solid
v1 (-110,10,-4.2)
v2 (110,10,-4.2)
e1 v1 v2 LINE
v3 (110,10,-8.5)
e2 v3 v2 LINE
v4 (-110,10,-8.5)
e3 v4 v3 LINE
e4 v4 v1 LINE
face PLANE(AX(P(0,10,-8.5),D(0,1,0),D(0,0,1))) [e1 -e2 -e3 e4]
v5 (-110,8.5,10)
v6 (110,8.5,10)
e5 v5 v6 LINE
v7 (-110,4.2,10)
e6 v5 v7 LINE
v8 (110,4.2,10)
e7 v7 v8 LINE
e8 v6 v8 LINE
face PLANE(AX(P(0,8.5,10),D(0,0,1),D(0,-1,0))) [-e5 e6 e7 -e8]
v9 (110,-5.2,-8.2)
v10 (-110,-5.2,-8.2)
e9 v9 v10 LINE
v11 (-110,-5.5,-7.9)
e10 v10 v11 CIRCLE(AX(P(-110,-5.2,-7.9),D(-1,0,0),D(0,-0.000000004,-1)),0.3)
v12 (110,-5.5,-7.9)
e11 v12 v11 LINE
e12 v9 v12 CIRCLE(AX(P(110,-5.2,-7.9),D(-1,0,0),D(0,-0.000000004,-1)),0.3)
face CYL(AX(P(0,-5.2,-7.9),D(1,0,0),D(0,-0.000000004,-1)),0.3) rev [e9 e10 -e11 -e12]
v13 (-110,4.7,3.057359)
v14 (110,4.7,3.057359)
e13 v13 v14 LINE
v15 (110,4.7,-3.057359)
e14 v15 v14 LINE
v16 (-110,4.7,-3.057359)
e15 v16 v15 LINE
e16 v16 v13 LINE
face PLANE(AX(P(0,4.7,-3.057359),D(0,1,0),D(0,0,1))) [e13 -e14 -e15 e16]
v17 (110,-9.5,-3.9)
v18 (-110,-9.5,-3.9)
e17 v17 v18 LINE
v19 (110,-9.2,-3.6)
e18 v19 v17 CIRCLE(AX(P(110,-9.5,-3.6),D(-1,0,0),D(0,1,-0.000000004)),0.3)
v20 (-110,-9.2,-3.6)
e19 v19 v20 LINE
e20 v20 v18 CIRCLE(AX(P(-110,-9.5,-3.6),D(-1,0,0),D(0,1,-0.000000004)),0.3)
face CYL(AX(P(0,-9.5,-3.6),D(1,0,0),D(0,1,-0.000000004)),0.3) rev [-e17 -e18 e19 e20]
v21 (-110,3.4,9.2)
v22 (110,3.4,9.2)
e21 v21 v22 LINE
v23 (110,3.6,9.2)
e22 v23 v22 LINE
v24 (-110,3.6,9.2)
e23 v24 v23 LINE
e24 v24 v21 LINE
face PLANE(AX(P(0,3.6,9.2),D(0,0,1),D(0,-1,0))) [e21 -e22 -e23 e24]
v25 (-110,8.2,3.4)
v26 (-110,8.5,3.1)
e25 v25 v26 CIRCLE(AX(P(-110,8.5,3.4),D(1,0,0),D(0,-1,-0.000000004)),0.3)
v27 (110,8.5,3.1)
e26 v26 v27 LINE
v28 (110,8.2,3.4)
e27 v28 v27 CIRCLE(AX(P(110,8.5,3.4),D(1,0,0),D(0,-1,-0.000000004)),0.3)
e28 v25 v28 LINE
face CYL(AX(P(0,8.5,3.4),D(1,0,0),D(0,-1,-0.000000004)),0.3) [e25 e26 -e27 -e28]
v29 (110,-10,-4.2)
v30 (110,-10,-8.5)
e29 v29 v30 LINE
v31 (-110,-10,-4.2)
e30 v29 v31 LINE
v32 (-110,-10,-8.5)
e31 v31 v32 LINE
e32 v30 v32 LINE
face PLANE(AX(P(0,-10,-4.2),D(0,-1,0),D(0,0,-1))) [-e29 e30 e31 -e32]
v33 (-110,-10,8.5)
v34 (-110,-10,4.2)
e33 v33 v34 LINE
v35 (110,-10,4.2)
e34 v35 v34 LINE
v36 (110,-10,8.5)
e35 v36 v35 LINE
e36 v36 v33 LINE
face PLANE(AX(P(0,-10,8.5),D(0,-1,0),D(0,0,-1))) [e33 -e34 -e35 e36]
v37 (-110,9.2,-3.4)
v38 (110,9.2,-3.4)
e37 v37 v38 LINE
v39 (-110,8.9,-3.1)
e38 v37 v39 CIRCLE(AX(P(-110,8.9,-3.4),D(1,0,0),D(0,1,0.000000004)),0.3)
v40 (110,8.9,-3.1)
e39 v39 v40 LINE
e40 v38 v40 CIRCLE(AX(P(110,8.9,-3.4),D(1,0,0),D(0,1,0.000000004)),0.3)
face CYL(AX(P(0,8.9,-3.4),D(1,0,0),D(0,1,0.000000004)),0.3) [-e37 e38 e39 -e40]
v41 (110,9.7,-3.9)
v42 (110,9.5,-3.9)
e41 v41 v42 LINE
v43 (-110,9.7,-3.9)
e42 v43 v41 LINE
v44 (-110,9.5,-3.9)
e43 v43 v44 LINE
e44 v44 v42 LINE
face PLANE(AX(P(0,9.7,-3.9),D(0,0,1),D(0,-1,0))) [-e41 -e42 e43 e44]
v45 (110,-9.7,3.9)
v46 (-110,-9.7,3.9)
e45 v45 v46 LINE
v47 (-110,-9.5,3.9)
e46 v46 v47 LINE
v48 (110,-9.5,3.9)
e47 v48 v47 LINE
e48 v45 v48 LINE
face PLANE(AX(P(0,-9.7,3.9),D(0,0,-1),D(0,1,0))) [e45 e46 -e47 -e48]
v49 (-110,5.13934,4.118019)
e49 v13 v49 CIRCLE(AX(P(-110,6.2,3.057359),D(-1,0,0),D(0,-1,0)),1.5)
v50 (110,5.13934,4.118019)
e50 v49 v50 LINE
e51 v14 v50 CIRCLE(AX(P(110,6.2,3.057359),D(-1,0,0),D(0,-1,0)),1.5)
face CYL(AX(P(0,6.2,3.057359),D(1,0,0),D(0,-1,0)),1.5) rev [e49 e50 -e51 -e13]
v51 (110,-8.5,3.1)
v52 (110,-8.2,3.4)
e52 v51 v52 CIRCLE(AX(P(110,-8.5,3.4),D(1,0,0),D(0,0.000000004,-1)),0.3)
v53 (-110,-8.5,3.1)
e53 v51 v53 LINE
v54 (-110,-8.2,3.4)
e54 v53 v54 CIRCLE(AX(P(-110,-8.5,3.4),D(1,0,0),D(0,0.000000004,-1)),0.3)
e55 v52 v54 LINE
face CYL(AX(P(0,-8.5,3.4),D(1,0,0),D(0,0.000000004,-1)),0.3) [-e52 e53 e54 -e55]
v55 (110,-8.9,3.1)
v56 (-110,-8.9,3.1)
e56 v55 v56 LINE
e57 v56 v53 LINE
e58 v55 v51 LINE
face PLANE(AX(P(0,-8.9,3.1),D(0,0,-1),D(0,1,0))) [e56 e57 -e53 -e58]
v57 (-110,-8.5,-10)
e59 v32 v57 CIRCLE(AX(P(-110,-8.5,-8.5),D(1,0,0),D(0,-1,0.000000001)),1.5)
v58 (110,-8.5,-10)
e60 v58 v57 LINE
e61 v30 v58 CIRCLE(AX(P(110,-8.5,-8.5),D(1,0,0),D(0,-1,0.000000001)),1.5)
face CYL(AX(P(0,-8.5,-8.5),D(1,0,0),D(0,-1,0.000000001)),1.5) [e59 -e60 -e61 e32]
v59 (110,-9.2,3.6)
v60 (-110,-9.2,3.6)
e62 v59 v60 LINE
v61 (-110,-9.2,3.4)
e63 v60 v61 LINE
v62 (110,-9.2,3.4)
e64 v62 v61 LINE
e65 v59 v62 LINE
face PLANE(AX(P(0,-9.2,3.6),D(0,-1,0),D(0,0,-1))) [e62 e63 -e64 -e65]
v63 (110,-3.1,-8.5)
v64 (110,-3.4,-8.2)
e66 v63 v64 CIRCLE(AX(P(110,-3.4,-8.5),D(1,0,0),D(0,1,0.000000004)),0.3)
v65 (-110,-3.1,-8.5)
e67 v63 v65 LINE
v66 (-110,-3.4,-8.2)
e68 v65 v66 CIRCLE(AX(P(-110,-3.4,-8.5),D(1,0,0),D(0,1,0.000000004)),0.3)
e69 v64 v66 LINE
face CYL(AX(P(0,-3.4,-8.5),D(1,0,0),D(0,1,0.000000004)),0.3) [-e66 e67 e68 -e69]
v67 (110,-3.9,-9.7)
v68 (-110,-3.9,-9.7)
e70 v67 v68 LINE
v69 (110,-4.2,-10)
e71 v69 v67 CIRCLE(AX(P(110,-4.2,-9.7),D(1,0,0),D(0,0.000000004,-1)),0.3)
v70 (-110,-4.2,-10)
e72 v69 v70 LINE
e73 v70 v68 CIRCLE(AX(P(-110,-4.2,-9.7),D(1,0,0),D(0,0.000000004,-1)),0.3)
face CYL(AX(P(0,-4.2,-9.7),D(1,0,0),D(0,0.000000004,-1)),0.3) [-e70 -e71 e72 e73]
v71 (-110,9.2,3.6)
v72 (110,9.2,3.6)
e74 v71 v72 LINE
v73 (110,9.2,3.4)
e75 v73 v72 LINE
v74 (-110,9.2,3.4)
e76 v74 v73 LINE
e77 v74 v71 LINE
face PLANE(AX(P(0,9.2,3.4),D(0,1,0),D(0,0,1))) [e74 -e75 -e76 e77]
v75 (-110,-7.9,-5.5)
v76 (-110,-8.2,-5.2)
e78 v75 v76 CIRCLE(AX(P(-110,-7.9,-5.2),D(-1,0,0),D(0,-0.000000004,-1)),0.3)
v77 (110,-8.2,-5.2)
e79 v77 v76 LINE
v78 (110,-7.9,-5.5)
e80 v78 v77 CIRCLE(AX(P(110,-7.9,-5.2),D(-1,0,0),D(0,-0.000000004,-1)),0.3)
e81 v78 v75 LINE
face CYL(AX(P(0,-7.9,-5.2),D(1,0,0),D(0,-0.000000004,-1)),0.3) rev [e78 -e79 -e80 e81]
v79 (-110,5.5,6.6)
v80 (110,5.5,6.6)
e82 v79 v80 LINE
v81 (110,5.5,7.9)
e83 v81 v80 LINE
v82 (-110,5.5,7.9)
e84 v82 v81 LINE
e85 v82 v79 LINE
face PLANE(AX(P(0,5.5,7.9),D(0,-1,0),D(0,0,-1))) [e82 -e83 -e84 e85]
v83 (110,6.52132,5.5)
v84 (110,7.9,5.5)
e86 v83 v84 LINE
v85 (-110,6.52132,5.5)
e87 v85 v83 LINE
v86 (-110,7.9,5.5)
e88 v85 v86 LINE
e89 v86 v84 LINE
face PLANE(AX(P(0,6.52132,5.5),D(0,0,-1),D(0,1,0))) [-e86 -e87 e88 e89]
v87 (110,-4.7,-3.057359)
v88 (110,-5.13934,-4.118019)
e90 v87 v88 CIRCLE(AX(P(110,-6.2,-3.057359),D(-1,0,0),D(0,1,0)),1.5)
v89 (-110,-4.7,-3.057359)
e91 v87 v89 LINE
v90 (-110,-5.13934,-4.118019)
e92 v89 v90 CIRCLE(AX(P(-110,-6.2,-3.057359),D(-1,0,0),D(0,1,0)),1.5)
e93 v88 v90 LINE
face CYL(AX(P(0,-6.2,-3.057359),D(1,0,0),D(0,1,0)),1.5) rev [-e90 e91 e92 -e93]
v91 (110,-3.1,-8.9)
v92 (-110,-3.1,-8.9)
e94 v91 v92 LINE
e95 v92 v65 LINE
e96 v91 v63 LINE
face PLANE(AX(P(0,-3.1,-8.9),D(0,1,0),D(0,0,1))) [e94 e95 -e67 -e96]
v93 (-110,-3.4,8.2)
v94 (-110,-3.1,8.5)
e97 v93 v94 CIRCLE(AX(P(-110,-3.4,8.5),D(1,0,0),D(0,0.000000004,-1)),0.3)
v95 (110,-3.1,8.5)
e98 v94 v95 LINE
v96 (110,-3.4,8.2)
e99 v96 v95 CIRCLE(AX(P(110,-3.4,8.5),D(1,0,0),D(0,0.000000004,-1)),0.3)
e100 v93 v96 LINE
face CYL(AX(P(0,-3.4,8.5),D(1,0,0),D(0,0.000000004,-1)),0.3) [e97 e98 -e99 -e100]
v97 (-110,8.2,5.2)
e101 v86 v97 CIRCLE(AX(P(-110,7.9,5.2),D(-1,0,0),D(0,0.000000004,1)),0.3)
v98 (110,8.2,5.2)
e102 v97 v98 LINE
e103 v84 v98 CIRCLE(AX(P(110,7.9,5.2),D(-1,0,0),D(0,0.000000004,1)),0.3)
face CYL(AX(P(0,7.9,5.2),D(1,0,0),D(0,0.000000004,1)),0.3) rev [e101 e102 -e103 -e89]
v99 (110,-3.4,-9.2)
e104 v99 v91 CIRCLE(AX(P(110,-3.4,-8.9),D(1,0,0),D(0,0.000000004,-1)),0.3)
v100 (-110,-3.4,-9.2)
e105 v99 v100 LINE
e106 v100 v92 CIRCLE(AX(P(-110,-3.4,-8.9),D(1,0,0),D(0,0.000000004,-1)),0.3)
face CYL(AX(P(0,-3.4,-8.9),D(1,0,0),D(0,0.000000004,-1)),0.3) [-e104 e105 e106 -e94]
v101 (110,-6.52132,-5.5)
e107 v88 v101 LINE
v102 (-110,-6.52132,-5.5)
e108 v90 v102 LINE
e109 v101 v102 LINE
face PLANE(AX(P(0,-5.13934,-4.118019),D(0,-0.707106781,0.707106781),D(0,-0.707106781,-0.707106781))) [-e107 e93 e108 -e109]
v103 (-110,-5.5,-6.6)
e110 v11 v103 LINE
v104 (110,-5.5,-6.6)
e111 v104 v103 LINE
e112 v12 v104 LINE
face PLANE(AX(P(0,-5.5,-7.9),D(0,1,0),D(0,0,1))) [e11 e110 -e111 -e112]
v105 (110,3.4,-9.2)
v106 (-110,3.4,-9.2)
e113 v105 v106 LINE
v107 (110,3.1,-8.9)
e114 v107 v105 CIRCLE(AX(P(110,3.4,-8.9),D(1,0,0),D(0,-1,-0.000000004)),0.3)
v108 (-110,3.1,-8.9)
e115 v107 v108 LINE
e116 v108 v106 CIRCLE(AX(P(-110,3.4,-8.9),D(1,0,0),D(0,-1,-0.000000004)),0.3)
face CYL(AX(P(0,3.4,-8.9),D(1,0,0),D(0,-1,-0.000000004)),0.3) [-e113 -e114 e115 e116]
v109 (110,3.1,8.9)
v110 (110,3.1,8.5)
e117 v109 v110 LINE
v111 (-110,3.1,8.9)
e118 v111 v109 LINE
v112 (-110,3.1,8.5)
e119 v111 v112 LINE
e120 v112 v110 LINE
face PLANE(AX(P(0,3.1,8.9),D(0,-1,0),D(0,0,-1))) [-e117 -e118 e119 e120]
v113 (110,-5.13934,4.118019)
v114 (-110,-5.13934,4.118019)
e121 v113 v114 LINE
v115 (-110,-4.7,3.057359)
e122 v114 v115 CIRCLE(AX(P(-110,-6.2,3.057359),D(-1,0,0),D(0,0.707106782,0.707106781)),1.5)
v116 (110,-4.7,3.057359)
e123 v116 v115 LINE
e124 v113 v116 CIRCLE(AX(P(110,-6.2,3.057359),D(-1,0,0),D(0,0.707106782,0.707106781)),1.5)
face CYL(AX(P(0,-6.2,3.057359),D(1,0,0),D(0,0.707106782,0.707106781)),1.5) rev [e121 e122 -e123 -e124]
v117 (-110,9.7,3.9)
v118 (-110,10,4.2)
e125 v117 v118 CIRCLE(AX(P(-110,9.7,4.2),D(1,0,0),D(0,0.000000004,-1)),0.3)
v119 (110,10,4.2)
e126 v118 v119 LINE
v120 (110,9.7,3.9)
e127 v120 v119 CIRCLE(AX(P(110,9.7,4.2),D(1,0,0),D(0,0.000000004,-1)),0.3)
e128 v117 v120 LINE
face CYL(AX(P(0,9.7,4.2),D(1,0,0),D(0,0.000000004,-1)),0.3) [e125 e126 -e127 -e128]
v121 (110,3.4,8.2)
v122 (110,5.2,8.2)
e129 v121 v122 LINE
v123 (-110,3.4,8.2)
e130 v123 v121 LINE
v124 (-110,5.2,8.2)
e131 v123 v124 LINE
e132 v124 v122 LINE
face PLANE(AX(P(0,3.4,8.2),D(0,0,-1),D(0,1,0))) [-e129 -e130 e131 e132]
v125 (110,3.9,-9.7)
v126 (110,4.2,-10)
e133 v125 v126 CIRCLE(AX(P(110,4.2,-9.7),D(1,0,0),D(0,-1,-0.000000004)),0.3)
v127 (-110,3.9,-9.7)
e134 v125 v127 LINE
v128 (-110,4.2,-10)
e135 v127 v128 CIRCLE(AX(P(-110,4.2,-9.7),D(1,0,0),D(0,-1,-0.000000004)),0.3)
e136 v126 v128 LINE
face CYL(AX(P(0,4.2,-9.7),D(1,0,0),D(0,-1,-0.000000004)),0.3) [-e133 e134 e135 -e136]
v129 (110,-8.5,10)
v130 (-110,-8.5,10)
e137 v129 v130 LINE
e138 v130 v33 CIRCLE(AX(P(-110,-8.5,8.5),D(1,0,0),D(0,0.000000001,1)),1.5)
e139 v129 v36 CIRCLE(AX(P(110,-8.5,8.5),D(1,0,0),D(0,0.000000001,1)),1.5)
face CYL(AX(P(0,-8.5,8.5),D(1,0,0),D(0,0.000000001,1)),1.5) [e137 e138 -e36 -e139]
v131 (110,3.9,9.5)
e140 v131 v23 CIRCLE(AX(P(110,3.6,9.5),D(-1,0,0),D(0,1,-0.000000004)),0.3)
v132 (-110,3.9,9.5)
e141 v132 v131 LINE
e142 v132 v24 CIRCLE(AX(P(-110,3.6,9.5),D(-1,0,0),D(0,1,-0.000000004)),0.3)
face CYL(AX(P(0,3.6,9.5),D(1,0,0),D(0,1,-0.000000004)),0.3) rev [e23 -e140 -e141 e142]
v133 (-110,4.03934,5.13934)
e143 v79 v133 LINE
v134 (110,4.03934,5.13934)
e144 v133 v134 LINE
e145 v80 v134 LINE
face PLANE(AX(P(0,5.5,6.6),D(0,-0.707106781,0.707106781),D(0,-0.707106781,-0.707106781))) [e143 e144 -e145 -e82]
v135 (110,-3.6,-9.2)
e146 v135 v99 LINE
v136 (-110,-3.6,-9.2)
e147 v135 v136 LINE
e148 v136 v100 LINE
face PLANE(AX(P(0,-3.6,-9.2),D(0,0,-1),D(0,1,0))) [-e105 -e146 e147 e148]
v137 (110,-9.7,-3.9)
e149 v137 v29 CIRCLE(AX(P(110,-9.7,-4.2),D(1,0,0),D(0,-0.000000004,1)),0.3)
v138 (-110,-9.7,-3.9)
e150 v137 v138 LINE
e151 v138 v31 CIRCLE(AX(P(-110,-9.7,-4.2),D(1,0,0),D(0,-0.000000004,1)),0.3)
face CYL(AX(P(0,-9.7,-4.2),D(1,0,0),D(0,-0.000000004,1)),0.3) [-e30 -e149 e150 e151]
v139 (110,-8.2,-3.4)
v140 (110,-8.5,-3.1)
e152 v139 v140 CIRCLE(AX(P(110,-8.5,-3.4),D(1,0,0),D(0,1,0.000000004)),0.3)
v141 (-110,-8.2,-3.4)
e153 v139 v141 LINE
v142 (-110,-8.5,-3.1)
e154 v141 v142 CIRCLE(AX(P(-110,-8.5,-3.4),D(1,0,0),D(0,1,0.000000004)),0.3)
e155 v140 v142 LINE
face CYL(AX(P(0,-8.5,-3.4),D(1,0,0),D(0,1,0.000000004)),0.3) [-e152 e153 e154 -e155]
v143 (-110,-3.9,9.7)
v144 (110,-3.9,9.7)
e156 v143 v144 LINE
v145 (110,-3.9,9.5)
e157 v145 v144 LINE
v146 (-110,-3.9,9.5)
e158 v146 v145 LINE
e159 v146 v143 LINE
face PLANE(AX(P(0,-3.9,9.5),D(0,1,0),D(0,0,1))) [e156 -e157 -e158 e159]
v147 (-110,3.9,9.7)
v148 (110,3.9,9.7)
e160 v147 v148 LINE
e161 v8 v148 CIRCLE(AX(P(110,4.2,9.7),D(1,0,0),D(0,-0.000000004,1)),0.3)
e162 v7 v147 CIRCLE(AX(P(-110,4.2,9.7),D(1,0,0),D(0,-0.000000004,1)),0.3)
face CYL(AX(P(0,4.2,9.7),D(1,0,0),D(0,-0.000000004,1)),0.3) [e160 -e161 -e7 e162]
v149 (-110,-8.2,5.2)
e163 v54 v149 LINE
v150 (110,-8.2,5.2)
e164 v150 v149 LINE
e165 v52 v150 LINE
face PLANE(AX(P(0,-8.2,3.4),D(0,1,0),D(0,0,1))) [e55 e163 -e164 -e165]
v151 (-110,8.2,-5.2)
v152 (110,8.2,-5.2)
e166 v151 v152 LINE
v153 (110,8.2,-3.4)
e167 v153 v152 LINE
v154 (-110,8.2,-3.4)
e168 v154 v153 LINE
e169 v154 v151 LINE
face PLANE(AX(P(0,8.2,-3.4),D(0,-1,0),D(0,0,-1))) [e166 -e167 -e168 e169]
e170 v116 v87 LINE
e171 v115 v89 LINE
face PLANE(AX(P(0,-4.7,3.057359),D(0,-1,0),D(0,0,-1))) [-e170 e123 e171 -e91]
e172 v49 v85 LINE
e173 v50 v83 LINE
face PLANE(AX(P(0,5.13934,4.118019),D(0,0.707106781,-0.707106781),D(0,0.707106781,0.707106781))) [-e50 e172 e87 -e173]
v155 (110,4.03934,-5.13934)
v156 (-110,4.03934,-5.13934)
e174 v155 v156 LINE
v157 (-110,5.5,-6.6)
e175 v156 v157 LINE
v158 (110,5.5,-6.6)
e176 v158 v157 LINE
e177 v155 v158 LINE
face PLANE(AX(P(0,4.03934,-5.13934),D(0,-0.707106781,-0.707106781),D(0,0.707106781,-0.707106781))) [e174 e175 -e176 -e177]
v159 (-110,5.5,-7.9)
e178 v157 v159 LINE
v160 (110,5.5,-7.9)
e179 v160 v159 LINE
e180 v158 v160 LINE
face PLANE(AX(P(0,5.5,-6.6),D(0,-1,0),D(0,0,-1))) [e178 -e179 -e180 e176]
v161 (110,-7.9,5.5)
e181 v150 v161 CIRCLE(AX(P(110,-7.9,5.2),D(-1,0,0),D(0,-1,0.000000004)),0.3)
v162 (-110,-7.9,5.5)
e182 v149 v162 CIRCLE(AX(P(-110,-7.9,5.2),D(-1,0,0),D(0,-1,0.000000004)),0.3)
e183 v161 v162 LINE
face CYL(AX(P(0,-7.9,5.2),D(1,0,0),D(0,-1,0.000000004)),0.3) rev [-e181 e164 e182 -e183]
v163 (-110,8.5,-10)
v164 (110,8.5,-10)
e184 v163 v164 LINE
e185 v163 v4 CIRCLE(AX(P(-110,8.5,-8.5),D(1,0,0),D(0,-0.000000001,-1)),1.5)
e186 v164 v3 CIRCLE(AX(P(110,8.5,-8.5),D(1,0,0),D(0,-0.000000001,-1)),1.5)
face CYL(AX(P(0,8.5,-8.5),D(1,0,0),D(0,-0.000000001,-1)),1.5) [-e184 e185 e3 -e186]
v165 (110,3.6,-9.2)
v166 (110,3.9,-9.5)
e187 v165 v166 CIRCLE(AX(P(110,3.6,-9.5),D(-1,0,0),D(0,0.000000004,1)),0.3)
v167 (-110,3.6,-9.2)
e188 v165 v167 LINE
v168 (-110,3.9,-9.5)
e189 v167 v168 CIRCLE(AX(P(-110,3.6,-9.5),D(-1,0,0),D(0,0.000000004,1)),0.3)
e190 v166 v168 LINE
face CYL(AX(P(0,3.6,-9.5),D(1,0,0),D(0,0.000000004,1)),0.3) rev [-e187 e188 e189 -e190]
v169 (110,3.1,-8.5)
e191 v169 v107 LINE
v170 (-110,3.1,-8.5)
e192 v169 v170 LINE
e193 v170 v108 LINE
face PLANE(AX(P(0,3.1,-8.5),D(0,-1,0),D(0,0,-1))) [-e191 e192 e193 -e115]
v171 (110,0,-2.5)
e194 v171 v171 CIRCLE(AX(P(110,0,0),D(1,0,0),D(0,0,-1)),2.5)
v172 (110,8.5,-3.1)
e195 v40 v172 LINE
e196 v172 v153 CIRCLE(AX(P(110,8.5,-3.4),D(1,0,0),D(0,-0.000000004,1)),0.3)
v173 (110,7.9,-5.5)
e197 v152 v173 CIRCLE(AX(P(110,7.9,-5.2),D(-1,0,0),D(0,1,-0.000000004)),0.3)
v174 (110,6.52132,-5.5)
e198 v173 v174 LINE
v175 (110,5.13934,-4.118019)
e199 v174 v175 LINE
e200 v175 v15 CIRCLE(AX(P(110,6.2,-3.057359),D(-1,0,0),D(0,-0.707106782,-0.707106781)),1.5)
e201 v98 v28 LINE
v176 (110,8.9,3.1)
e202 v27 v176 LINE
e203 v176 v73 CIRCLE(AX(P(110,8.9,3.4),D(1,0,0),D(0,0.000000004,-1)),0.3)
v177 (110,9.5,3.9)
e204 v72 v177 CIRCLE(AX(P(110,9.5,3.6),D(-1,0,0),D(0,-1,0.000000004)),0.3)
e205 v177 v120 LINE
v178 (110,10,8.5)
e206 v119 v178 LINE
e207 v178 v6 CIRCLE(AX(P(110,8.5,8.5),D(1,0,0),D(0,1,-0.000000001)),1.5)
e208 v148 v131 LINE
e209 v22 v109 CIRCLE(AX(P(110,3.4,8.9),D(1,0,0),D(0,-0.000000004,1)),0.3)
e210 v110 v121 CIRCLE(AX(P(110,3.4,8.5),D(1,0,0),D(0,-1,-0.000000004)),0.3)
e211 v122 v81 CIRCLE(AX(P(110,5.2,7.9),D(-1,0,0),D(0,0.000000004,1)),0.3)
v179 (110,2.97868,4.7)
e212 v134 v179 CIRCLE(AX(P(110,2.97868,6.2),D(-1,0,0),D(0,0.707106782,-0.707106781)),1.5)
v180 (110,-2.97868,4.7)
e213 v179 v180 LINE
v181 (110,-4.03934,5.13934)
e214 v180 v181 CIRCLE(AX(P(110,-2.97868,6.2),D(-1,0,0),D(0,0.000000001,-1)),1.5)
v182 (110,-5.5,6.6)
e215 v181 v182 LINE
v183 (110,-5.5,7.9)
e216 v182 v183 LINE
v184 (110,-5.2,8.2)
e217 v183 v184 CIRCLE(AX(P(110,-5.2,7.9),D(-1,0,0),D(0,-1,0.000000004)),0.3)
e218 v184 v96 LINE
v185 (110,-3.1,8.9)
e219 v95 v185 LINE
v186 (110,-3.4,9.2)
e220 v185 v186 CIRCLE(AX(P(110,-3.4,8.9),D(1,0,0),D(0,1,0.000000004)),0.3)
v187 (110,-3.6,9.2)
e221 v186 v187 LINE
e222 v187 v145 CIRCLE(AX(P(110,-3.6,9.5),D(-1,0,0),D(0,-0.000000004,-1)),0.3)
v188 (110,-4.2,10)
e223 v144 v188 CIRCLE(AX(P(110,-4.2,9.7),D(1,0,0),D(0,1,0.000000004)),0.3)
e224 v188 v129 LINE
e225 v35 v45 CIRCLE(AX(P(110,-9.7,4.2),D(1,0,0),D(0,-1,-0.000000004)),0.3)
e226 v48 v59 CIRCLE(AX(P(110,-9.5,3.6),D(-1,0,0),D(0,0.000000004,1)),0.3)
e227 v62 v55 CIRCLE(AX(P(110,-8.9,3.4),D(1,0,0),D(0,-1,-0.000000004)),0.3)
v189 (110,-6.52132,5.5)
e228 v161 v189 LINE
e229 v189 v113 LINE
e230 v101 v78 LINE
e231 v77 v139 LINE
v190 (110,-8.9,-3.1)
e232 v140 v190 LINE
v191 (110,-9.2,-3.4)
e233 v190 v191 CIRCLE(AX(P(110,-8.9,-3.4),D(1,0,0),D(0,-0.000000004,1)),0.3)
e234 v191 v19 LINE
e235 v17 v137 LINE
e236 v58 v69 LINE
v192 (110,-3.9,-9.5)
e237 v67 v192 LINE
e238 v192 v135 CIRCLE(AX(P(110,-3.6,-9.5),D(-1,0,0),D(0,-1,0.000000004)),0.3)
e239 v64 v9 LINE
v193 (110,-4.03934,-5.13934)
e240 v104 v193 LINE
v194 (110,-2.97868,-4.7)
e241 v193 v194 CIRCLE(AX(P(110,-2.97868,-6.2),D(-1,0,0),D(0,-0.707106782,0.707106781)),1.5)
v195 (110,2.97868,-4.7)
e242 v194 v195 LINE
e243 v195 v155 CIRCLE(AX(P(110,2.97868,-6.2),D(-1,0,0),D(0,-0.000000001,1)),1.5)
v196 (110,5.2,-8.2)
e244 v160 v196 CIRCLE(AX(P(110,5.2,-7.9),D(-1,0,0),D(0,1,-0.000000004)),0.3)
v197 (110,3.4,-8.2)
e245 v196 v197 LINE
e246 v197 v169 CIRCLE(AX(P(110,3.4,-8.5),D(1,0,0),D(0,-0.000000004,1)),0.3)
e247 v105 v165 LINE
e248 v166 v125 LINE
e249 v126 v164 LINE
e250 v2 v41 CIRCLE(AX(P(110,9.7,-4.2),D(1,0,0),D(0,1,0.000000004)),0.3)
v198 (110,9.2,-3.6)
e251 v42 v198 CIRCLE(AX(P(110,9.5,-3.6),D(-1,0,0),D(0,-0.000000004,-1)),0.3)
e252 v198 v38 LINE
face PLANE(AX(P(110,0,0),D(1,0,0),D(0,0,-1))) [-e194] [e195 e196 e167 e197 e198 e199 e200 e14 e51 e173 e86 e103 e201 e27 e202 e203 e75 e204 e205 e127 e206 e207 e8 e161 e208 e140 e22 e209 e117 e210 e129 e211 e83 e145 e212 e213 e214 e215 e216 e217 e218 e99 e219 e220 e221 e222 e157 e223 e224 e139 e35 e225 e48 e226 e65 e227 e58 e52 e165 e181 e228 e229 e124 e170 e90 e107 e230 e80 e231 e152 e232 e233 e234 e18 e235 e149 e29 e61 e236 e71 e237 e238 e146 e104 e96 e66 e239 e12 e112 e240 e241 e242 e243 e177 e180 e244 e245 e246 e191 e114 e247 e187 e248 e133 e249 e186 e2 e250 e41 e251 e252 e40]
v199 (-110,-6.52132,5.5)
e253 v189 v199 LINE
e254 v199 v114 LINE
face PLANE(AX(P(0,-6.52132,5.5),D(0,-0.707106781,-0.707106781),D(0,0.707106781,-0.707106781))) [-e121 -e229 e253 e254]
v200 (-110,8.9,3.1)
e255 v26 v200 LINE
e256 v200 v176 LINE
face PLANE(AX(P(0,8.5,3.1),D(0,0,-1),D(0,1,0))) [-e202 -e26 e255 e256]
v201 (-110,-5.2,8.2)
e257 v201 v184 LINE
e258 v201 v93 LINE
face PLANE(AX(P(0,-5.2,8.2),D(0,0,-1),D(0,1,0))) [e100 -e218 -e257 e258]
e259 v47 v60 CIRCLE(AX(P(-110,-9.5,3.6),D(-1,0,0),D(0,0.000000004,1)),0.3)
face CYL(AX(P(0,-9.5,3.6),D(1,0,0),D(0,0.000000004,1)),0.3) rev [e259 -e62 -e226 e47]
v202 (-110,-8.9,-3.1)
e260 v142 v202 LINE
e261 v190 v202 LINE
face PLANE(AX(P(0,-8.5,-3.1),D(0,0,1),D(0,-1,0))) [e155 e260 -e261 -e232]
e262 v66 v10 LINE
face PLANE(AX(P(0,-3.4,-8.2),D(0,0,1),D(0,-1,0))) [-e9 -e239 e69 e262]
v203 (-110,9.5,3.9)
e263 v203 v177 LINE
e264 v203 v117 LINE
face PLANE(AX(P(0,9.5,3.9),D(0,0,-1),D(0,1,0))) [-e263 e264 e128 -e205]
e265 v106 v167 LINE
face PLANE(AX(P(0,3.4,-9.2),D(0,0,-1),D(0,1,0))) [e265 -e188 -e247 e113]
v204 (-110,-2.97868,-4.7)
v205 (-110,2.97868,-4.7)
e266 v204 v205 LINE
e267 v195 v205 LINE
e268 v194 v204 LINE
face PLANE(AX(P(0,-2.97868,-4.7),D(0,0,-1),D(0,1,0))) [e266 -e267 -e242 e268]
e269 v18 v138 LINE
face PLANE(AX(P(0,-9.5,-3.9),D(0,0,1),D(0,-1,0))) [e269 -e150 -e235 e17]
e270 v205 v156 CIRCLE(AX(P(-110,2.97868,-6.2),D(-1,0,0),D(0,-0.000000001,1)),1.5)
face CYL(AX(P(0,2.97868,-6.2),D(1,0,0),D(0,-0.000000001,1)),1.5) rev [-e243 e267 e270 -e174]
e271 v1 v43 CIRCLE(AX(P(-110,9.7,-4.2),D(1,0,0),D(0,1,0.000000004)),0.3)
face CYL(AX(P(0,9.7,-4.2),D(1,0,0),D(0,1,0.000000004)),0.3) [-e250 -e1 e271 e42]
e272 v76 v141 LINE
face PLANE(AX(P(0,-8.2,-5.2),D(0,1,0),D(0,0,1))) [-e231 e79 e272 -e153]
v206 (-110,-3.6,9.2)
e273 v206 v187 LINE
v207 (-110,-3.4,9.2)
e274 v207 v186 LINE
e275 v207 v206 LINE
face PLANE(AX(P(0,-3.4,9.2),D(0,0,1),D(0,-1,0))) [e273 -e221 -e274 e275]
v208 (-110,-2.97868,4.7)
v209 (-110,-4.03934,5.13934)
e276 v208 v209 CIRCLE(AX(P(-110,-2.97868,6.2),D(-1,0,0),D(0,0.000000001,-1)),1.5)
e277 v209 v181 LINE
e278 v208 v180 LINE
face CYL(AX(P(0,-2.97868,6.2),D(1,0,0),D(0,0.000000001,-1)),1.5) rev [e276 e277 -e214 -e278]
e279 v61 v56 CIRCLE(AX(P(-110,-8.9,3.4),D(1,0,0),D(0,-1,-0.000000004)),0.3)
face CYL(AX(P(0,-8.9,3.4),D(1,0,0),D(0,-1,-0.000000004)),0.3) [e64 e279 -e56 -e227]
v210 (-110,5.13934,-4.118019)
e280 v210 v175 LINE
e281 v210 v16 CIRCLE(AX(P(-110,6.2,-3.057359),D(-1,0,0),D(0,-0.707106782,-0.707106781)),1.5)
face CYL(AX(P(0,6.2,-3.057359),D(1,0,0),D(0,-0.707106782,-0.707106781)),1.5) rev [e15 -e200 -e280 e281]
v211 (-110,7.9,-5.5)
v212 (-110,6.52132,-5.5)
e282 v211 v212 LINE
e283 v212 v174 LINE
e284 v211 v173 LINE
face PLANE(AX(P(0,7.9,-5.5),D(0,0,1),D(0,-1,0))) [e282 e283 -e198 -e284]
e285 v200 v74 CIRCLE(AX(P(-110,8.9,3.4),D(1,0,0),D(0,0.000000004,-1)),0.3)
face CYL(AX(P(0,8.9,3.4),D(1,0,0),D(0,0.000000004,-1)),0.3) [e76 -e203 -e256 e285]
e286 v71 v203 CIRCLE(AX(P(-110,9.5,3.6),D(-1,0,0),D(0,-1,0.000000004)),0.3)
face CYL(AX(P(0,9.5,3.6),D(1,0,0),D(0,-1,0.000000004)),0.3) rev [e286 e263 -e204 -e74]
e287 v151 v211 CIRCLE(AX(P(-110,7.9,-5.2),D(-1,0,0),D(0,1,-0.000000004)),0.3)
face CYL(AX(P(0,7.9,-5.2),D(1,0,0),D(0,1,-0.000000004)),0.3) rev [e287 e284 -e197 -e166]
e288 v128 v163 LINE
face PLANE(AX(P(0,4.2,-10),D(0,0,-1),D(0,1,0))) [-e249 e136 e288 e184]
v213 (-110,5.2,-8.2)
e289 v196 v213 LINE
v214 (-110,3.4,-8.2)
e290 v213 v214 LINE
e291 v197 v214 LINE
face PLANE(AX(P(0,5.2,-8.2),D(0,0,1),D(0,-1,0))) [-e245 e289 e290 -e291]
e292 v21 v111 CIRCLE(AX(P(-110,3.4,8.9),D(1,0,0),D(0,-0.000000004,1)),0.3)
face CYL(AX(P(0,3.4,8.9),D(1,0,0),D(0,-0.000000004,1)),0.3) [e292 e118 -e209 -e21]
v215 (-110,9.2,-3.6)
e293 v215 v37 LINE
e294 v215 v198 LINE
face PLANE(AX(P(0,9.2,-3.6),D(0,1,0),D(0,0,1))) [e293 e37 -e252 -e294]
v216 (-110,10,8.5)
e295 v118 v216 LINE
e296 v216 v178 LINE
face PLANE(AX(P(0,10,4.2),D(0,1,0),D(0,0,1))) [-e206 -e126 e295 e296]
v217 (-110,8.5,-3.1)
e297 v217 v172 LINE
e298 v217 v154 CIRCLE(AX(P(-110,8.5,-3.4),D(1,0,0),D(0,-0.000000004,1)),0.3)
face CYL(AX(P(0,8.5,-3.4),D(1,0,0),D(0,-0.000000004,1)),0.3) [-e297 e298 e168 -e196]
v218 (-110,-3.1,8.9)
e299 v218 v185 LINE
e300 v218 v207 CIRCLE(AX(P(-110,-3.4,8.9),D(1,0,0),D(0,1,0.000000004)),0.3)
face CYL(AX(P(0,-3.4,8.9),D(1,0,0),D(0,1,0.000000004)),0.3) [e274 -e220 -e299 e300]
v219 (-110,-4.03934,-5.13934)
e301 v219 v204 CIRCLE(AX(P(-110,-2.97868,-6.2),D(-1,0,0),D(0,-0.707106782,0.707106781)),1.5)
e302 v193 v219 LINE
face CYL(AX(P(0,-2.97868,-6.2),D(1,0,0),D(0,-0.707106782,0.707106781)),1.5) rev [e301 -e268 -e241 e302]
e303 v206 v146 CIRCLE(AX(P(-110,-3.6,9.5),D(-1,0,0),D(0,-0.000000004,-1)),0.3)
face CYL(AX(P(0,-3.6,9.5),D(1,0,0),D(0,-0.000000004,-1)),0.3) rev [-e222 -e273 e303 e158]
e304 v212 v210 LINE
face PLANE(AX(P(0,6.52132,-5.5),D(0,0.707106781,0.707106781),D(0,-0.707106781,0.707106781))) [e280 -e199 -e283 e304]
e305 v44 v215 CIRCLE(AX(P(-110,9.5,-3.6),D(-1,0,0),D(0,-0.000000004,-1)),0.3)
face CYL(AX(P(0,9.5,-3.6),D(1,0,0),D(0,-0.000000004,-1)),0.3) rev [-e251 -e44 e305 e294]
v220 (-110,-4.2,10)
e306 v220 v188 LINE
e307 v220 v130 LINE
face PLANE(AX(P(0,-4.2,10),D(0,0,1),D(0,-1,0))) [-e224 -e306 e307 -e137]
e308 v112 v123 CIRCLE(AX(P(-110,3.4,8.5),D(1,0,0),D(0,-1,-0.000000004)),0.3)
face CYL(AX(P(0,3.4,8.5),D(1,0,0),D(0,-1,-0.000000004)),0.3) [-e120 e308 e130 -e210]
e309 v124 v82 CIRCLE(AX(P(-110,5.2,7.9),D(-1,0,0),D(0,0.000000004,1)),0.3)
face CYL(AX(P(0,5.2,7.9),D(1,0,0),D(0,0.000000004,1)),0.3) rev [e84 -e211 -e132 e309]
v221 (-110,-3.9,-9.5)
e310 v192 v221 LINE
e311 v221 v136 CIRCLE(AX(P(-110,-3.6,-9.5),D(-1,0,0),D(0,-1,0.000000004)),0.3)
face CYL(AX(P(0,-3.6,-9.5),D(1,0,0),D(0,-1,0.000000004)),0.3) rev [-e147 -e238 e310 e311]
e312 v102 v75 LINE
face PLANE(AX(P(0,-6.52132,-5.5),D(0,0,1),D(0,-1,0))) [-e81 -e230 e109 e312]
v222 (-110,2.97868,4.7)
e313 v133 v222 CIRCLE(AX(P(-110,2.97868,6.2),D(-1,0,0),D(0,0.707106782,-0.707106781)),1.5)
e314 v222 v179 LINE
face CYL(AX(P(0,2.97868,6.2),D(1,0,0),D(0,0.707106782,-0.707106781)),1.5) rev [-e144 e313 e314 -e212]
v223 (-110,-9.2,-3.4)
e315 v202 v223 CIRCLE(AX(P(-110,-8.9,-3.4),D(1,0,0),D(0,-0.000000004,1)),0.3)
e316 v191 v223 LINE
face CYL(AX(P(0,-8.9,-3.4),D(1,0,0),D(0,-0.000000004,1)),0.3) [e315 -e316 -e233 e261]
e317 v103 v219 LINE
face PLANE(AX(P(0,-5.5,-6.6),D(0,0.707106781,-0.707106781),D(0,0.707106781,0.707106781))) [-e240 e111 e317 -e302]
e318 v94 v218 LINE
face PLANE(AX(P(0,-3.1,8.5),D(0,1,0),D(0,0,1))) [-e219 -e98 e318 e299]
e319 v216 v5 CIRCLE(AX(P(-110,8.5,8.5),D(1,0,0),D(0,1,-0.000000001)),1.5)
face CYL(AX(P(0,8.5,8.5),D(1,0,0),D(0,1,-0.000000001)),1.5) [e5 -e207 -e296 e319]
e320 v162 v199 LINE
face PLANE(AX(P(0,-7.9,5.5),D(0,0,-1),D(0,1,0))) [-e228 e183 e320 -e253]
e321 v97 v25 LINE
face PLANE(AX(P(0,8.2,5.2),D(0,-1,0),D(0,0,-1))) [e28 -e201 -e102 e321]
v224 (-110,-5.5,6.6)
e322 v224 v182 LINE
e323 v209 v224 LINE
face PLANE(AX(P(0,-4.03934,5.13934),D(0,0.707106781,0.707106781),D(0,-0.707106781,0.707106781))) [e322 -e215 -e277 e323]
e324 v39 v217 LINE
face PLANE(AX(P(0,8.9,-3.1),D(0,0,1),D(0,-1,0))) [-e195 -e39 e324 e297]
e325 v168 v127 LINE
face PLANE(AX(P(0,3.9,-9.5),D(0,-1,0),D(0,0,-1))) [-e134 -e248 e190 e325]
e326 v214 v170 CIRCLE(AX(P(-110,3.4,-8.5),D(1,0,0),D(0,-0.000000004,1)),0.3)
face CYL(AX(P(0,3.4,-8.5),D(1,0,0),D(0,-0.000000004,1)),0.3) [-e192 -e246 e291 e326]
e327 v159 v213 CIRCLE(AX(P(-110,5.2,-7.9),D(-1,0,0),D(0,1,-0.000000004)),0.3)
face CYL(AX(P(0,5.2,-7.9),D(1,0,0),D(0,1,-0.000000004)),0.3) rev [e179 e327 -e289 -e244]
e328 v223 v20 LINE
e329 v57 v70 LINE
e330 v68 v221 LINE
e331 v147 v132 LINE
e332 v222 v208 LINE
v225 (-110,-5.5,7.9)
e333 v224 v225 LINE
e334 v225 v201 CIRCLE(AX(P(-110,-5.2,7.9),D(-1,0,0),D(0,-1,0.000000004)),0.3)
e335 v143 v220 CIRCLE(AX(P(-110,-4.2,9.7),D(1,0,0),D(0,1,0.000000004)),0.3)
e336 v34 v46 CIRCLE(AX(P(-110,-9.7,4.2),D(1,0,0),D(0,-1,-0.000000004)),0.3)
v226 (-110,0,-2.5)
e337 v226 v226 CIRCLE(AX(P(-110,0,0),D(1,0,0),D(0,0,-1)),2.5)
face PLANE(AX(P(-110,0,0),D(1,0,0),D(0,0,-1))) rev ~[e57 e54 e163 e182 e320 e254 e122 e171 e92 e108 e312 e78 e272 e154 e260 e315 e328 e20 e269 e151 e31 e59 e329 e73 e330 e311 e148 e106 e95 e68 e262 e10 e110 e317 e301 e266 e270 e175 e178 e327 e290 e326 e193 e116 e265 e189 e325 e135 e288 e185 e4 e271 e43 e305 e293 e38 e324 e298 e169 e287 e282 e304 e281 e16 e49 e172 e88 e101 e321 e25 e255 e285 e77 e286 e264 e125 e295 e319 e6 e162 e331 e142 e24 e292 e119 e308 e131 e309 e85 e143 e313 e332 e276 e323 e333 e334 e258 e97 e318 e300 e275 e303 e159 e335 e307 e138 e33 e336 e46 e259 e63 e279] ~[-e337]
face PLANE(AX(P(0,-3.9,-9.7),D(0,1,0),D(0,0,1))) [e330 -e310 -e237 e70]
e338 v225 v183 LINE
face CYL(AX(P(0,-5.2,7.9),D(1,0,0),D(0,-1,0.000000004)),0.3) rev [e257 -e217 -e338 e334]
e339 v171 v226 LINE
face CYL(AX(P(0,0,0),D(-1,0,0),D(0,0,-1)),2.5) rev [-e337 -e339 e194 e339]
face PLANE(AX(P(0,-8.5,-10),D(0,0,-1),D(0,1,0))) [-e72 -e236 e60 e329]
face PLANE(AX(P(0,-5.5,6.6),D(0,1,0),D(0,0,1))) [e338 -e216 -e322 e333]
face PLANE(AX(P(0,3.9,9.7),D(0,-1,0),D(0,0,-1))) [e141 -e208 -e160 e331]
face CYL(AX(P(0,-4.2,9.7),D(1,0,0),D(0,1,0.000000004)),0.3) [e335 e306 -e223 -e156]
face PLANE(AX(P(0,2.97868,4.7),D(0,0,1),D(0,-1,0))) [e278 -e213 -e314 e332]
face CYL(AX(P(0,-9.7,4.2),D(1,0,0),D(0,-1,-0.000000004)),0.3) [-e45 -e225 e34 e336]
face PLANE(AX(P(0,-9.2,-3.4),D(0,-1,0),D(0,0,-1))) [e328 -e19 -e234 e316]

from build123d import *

# Parameters (mm, degrees)
SKETCH1_R           = 2.5
BOSS_EXTRUDE2_DEPTH = 110


with BuildPart() as part:
    # Sketch1 → Boss-Extrude2 (new, symmetric)
    with BuildSketch(Plane(origin=(0, 0, 0), x_dir=(0, 0, -1), z_dir=(1, 0, 0))):
        with BuildLine():
            Line((10, 4.2), (10, 8.5))
            ThreePointArc((10, 8.5), (9.560660172, 9.560660172), (8.5, 10))
            Line((8.5, 10), (4.2, 10))
            ThreePointArc((4.2, 10), (3.987867966, 9.912132034), (3.9, 9.7))
            Line((3.9, 9.7), (3.9, 9.5))
            ThreePointArc((3.9, 9.5), (3.812132034, 9.287867966), (3.6, 9.2))
            Line((3.6, 9.2), (3.4, 9.2))
            ThreePointArc((3.4, 9.2), (3.187867966, 9.112132034), (3.1, 8.9))
            Line((3.1, 8.9), (3.1, 8.5))
            ThreePointArc((3.1, 8.5), (3.187867966, 8.287867966), (3.4, 8.2))
            Line((3.4, 8.2), (5.2, 8.2))
            ThreePointArc((5.2, 8.2), (5.412132034, 8.112132034), (5.5, 7.9))
            Line((5.5, 7.9), (5.5, 6.521320344))
            Line((5.5, 6.521320344), (4.118019485, 5.139339828))
            ThreePointArc((4.118019485, 5.139339828), (3.631384461, 4.814180701), (3.057359313, 4.7))
            Line((3.057359313, 4.7), (-3.057359313, 4.7))
            ThreePointArc((-3.057359313, 4.7), (-3.631384461, 4.814180701), (-4.118019485, 5.139339828))
            Line((-4.118019485, 5.139339828), (-5.5, 6.521320344))
            Line((-5.5, 6.521320344), (-5.5, 7.9))
            ThreePointArc((-5.5, 7.9), (-5.412132034, 8.112132034), (-5.2, 8.2))
            Line((-5.2, 8.2), (-3.4, 8.2))
            ThreePointArc((-3.4, 8.2), (-3.187867966, 8.287867966), (-3.1, 8.5))
            Line((-3.1, 8.5), (-3.1, 8.9))
            ThreePointArc((-3.1, 8.9), (-3.187867966, 9.112132034), (-3.4, 9.2))
            Line((-3.4, 9.2), (-3.6, 9.2))
            ThreePointArc((-3.6, 9.2), (-3.812132034, 9.287867966), (-3.9, 9.5))
            Line((-3.9, 9.5), (-3.9, 9.7))
            ThreePointArc((-3.9, 9.7), (-3.987867966, 9.912132034), (-4.2, 10))
            Line((-4.2, 10), (-8.5, 10))
            ThreePointArc((-8.5, 10), (-9.560660172, 9.560660172), (-10, 8.5))
            Line((-10, 8.5), (-10, 4.2))
            ThreePointArc((-10, 4.2), (-9.912132034, 3.987867966), (-9.7, 3.9))
            Line((-9.7, 3.9), (-9.5, 3.9))
            ThreePointArc((-9.5, 3.9), (-9.287867966, 3.812132034), (-9.2, 3.6))
            Line((-9.2, 3.6), (-9.2, 3.4))
            ThreePointArc((-9.2, 3.4), (-9.112132034, 3.187867966), (-8.9, 3.1))
            Line((-8.9, 3.1), (-8.5, 3.1))
            ThreePointArc((-8.5, 3.1), (-8.287867966, 3.187867966), (-8.2, 3.4))
            Line((-8.2, 3.4), (-8.2, 5.2))
            ThreePointArc((-8.2, 5.2), (-8.112132034, 5.412132034), (-7.9, 5.5))
            Line((-7.9, 5.5), (-6.6, 5.5))
            Line((-6.6, 5.5), (-5.139339828, 4.039339828))
            ThreePointArc((-5.139339828, 4.039339828), (-4.814180701, 3.552704805), (-4.7, 2.978679656))
            Line((-4.7, 2.978679656), (-4.7, -2.978679656))
            ThreePointArc((-4.7, -2.978679656), (-4.814180701, -3.552704805), (-5.139339828, -4.039339828))
            Line((-5.139339828, -4.039339828), (-6.6, -5.5))
            Line((-6.6, -5.5), (-7.9, -5.5))
            ThreePointArc((-7.9, -5.5), (-8.112132034, -5.412132034), (-8.2, -5.2))
            Line((-8.2, -5.2), (-8.2, -3.4))
            ThreePointArc((-8.2, -3.4), (-8.287867966, -3.187867966), (-8.5, -3.1))
            Line((-8.5, -3.1), (-8.9, -3.1))
            ThreePointArc((-8.9, -3.1), (-9.112132034, -3.187867966), (-9.2, -3.4))
            Line((-9.2, -3.4), (-9.2, -3.6))
            ThreePointArc((-9.2, -3.6), (-9.287867966, -3.812132034), (-9.5, -3.9))
            Line((-9.5, -3.9), (-9.7, -3.9))
            ThreePointArc((-9.7, -3.9), (-9.912132034, -3.987867966), (-10, -4.2))
            Line((-10, -4.2), (-10, -8.5))
            ThreePointArc((-10, -8.5), (-9.560660172, -9.560660172), (-8.5, -10))
            Line((-8.5, -10), (-4.2, -10))
            ThreePointArc((-4.2, -10), (-3.987867966, -9.912132034), (-3.9, -9.7))
            Line((-3.9, -9.7), (-3.9, -9.5))
            ThreePointArc((-3.9, -9.5), (-3.812132034, -9.287867966), (-3.6, -9.2))
            Line((-3.6, -9.2), (-3.4, -9.2))
            ThreePointArc((-3.4, -9.2), (-3.187867966, -9.112132034), (-3.1, -8.9))
            Line((-3.1, -8.9), (-3.1, -8.5))
            ThreePointArc((-3.1, -8.5), (-3.187867966, -8.287867966), (-3.4, -8.2))
            Line((-3.4, -8.2), (-5.2, -8.2))
            ThreePointArc((-5.2, -8.2), (-5.412132034, -8.112132034), (-5.5, -7.9))
            Line((-5.5, -7.9), (-5.5, -6.521320344))
            Line((-5.5, -6.521320344), (-4.118019485, -5.139339828))
            ThreePointArc((-4.118019485, -5.139339828), (-3.631384461, -4.814180701), (-3.057359313, -4.7))
            Line((-3.057359313, -4.7), (3.057359313, -4.7))
            ThreePointArc((3.057359313, -4.7), (3.631384461, -4.814180701), (4.118019485, -5.139339828))
            Line((4.118019485, -5.139339828), (5.5, -6.521320344))
            Line((5.5, -6.521320344), (5.5, -7.9))
            ThreePointArc((5.5, -7.9), (5.412132034, -8.112132034), (5.2, -8.2))
            Line((5.2, -8.2), (3.4, -8.2))
            ThreePointArc((3.4, -8.2), (3.187867966, -8.287867966), (3.1, -8.5))
            Line((3.1, -8.5), (3.1, -8.9))
            ThreePointArc((3.1, -8.9), (3.187867966, -9.112132034), (3.4, -9.2))
            Line((3.4, -9.2), (3.6, -9.2))
            ThreePointArc((3.6, -9.2), (3.812132034, -9.287867966), (3.9, -9.5))
            Line((3.9, -9.5), (3.9, -9.7))
            ThreePointArc((3.9, -9.7), (3.987867966, -9.912132034), (4.2, -10))
            Line((4.2, -10), (8.5, -10))
            ThreePointArc((8.5, -10), (9.560660172, -9.560660172), (10, -8.5))
            Line((10, -8.5), (10, -4.2))
            ThreePointArc((10, -4.2), (9.912132034, -3.987867966), (9.7, -3.9))
            Line((9.7, -3.9), (9.5, -3.9))
            ThreePointArc((9.5, -3.9), (9.287867966, -3.812132034), (9.2, -3.6))
            Line((9.2, -3.6), (9.2, -3.4))
            ThreePointArc((9.2, -3.4), (9.112132034, -3.187867966), (8.9, -3.1))
            Line((8.9, -3.1), (8.5, -3.1))
            ThreePointArc((8.5, -3.1), (8.287867966, -3.187867966), (8.2, -3.4))
            Line((8.2, -3.4), (8.2, -5.2))
            ThreePointArc((8.2, -5.2), (8.112132034, -5.412132034), (7.9, -5.5))
            Line((7.9, -5.5), (6.6, -5.5))
            Line((6.6, -5.5), (5.139339828, -4.039339828))
            ThreePointArc((5.139339828, -4.039339828), (4.814180701, -3.552704805), (4.7, -2.978679656))
            Line((4.7, -2.978679656), (4.7, 2.978679656))
            ThreePointArc((4.7, 2.978679656), (4.814180701, 3.552704805), (5.139339828, 4.039339828))
            Line((5.139339828, 4.039339828), (6.6, 5.5))
            Line((6.6, 5.5), (7.9, 5.5))
            ThreePointArc((7.9, 5.5), (8.112132034, 5.412132034), (8.2, 5.2))
            Line((8.2, 5.2), (8.2, 3.4))
            ThreePointArc((8.2, 3.4), (8.287867966, 3.187867966), (8.5, 3.1))
            Line((8.5, 3.1), (8.9, 3.1))
            ThreePointArc((8.9, 3.1), (9.112132034, 3.187867966), (9.2, 3.4))
            Line((9.2, 3.4), (9.2, 3.6))
            ThreePointArc((9.2, 3.6), (9.287867966, 3.812132034), (9.5, 3.9))
            Line((9.5, 3.9), (9.7, 3.9))
            ThreePointArc((9.7, 3.9), (9.912132034, 3.987867966), (10, 4.2))
        make_face()
        Circle(SKETCH1_R, mode=Mode.SUBTRACT)
    extrude(amount=BOSS_EXTRUDE2_DEPTH, both=True)


solid = part.part
